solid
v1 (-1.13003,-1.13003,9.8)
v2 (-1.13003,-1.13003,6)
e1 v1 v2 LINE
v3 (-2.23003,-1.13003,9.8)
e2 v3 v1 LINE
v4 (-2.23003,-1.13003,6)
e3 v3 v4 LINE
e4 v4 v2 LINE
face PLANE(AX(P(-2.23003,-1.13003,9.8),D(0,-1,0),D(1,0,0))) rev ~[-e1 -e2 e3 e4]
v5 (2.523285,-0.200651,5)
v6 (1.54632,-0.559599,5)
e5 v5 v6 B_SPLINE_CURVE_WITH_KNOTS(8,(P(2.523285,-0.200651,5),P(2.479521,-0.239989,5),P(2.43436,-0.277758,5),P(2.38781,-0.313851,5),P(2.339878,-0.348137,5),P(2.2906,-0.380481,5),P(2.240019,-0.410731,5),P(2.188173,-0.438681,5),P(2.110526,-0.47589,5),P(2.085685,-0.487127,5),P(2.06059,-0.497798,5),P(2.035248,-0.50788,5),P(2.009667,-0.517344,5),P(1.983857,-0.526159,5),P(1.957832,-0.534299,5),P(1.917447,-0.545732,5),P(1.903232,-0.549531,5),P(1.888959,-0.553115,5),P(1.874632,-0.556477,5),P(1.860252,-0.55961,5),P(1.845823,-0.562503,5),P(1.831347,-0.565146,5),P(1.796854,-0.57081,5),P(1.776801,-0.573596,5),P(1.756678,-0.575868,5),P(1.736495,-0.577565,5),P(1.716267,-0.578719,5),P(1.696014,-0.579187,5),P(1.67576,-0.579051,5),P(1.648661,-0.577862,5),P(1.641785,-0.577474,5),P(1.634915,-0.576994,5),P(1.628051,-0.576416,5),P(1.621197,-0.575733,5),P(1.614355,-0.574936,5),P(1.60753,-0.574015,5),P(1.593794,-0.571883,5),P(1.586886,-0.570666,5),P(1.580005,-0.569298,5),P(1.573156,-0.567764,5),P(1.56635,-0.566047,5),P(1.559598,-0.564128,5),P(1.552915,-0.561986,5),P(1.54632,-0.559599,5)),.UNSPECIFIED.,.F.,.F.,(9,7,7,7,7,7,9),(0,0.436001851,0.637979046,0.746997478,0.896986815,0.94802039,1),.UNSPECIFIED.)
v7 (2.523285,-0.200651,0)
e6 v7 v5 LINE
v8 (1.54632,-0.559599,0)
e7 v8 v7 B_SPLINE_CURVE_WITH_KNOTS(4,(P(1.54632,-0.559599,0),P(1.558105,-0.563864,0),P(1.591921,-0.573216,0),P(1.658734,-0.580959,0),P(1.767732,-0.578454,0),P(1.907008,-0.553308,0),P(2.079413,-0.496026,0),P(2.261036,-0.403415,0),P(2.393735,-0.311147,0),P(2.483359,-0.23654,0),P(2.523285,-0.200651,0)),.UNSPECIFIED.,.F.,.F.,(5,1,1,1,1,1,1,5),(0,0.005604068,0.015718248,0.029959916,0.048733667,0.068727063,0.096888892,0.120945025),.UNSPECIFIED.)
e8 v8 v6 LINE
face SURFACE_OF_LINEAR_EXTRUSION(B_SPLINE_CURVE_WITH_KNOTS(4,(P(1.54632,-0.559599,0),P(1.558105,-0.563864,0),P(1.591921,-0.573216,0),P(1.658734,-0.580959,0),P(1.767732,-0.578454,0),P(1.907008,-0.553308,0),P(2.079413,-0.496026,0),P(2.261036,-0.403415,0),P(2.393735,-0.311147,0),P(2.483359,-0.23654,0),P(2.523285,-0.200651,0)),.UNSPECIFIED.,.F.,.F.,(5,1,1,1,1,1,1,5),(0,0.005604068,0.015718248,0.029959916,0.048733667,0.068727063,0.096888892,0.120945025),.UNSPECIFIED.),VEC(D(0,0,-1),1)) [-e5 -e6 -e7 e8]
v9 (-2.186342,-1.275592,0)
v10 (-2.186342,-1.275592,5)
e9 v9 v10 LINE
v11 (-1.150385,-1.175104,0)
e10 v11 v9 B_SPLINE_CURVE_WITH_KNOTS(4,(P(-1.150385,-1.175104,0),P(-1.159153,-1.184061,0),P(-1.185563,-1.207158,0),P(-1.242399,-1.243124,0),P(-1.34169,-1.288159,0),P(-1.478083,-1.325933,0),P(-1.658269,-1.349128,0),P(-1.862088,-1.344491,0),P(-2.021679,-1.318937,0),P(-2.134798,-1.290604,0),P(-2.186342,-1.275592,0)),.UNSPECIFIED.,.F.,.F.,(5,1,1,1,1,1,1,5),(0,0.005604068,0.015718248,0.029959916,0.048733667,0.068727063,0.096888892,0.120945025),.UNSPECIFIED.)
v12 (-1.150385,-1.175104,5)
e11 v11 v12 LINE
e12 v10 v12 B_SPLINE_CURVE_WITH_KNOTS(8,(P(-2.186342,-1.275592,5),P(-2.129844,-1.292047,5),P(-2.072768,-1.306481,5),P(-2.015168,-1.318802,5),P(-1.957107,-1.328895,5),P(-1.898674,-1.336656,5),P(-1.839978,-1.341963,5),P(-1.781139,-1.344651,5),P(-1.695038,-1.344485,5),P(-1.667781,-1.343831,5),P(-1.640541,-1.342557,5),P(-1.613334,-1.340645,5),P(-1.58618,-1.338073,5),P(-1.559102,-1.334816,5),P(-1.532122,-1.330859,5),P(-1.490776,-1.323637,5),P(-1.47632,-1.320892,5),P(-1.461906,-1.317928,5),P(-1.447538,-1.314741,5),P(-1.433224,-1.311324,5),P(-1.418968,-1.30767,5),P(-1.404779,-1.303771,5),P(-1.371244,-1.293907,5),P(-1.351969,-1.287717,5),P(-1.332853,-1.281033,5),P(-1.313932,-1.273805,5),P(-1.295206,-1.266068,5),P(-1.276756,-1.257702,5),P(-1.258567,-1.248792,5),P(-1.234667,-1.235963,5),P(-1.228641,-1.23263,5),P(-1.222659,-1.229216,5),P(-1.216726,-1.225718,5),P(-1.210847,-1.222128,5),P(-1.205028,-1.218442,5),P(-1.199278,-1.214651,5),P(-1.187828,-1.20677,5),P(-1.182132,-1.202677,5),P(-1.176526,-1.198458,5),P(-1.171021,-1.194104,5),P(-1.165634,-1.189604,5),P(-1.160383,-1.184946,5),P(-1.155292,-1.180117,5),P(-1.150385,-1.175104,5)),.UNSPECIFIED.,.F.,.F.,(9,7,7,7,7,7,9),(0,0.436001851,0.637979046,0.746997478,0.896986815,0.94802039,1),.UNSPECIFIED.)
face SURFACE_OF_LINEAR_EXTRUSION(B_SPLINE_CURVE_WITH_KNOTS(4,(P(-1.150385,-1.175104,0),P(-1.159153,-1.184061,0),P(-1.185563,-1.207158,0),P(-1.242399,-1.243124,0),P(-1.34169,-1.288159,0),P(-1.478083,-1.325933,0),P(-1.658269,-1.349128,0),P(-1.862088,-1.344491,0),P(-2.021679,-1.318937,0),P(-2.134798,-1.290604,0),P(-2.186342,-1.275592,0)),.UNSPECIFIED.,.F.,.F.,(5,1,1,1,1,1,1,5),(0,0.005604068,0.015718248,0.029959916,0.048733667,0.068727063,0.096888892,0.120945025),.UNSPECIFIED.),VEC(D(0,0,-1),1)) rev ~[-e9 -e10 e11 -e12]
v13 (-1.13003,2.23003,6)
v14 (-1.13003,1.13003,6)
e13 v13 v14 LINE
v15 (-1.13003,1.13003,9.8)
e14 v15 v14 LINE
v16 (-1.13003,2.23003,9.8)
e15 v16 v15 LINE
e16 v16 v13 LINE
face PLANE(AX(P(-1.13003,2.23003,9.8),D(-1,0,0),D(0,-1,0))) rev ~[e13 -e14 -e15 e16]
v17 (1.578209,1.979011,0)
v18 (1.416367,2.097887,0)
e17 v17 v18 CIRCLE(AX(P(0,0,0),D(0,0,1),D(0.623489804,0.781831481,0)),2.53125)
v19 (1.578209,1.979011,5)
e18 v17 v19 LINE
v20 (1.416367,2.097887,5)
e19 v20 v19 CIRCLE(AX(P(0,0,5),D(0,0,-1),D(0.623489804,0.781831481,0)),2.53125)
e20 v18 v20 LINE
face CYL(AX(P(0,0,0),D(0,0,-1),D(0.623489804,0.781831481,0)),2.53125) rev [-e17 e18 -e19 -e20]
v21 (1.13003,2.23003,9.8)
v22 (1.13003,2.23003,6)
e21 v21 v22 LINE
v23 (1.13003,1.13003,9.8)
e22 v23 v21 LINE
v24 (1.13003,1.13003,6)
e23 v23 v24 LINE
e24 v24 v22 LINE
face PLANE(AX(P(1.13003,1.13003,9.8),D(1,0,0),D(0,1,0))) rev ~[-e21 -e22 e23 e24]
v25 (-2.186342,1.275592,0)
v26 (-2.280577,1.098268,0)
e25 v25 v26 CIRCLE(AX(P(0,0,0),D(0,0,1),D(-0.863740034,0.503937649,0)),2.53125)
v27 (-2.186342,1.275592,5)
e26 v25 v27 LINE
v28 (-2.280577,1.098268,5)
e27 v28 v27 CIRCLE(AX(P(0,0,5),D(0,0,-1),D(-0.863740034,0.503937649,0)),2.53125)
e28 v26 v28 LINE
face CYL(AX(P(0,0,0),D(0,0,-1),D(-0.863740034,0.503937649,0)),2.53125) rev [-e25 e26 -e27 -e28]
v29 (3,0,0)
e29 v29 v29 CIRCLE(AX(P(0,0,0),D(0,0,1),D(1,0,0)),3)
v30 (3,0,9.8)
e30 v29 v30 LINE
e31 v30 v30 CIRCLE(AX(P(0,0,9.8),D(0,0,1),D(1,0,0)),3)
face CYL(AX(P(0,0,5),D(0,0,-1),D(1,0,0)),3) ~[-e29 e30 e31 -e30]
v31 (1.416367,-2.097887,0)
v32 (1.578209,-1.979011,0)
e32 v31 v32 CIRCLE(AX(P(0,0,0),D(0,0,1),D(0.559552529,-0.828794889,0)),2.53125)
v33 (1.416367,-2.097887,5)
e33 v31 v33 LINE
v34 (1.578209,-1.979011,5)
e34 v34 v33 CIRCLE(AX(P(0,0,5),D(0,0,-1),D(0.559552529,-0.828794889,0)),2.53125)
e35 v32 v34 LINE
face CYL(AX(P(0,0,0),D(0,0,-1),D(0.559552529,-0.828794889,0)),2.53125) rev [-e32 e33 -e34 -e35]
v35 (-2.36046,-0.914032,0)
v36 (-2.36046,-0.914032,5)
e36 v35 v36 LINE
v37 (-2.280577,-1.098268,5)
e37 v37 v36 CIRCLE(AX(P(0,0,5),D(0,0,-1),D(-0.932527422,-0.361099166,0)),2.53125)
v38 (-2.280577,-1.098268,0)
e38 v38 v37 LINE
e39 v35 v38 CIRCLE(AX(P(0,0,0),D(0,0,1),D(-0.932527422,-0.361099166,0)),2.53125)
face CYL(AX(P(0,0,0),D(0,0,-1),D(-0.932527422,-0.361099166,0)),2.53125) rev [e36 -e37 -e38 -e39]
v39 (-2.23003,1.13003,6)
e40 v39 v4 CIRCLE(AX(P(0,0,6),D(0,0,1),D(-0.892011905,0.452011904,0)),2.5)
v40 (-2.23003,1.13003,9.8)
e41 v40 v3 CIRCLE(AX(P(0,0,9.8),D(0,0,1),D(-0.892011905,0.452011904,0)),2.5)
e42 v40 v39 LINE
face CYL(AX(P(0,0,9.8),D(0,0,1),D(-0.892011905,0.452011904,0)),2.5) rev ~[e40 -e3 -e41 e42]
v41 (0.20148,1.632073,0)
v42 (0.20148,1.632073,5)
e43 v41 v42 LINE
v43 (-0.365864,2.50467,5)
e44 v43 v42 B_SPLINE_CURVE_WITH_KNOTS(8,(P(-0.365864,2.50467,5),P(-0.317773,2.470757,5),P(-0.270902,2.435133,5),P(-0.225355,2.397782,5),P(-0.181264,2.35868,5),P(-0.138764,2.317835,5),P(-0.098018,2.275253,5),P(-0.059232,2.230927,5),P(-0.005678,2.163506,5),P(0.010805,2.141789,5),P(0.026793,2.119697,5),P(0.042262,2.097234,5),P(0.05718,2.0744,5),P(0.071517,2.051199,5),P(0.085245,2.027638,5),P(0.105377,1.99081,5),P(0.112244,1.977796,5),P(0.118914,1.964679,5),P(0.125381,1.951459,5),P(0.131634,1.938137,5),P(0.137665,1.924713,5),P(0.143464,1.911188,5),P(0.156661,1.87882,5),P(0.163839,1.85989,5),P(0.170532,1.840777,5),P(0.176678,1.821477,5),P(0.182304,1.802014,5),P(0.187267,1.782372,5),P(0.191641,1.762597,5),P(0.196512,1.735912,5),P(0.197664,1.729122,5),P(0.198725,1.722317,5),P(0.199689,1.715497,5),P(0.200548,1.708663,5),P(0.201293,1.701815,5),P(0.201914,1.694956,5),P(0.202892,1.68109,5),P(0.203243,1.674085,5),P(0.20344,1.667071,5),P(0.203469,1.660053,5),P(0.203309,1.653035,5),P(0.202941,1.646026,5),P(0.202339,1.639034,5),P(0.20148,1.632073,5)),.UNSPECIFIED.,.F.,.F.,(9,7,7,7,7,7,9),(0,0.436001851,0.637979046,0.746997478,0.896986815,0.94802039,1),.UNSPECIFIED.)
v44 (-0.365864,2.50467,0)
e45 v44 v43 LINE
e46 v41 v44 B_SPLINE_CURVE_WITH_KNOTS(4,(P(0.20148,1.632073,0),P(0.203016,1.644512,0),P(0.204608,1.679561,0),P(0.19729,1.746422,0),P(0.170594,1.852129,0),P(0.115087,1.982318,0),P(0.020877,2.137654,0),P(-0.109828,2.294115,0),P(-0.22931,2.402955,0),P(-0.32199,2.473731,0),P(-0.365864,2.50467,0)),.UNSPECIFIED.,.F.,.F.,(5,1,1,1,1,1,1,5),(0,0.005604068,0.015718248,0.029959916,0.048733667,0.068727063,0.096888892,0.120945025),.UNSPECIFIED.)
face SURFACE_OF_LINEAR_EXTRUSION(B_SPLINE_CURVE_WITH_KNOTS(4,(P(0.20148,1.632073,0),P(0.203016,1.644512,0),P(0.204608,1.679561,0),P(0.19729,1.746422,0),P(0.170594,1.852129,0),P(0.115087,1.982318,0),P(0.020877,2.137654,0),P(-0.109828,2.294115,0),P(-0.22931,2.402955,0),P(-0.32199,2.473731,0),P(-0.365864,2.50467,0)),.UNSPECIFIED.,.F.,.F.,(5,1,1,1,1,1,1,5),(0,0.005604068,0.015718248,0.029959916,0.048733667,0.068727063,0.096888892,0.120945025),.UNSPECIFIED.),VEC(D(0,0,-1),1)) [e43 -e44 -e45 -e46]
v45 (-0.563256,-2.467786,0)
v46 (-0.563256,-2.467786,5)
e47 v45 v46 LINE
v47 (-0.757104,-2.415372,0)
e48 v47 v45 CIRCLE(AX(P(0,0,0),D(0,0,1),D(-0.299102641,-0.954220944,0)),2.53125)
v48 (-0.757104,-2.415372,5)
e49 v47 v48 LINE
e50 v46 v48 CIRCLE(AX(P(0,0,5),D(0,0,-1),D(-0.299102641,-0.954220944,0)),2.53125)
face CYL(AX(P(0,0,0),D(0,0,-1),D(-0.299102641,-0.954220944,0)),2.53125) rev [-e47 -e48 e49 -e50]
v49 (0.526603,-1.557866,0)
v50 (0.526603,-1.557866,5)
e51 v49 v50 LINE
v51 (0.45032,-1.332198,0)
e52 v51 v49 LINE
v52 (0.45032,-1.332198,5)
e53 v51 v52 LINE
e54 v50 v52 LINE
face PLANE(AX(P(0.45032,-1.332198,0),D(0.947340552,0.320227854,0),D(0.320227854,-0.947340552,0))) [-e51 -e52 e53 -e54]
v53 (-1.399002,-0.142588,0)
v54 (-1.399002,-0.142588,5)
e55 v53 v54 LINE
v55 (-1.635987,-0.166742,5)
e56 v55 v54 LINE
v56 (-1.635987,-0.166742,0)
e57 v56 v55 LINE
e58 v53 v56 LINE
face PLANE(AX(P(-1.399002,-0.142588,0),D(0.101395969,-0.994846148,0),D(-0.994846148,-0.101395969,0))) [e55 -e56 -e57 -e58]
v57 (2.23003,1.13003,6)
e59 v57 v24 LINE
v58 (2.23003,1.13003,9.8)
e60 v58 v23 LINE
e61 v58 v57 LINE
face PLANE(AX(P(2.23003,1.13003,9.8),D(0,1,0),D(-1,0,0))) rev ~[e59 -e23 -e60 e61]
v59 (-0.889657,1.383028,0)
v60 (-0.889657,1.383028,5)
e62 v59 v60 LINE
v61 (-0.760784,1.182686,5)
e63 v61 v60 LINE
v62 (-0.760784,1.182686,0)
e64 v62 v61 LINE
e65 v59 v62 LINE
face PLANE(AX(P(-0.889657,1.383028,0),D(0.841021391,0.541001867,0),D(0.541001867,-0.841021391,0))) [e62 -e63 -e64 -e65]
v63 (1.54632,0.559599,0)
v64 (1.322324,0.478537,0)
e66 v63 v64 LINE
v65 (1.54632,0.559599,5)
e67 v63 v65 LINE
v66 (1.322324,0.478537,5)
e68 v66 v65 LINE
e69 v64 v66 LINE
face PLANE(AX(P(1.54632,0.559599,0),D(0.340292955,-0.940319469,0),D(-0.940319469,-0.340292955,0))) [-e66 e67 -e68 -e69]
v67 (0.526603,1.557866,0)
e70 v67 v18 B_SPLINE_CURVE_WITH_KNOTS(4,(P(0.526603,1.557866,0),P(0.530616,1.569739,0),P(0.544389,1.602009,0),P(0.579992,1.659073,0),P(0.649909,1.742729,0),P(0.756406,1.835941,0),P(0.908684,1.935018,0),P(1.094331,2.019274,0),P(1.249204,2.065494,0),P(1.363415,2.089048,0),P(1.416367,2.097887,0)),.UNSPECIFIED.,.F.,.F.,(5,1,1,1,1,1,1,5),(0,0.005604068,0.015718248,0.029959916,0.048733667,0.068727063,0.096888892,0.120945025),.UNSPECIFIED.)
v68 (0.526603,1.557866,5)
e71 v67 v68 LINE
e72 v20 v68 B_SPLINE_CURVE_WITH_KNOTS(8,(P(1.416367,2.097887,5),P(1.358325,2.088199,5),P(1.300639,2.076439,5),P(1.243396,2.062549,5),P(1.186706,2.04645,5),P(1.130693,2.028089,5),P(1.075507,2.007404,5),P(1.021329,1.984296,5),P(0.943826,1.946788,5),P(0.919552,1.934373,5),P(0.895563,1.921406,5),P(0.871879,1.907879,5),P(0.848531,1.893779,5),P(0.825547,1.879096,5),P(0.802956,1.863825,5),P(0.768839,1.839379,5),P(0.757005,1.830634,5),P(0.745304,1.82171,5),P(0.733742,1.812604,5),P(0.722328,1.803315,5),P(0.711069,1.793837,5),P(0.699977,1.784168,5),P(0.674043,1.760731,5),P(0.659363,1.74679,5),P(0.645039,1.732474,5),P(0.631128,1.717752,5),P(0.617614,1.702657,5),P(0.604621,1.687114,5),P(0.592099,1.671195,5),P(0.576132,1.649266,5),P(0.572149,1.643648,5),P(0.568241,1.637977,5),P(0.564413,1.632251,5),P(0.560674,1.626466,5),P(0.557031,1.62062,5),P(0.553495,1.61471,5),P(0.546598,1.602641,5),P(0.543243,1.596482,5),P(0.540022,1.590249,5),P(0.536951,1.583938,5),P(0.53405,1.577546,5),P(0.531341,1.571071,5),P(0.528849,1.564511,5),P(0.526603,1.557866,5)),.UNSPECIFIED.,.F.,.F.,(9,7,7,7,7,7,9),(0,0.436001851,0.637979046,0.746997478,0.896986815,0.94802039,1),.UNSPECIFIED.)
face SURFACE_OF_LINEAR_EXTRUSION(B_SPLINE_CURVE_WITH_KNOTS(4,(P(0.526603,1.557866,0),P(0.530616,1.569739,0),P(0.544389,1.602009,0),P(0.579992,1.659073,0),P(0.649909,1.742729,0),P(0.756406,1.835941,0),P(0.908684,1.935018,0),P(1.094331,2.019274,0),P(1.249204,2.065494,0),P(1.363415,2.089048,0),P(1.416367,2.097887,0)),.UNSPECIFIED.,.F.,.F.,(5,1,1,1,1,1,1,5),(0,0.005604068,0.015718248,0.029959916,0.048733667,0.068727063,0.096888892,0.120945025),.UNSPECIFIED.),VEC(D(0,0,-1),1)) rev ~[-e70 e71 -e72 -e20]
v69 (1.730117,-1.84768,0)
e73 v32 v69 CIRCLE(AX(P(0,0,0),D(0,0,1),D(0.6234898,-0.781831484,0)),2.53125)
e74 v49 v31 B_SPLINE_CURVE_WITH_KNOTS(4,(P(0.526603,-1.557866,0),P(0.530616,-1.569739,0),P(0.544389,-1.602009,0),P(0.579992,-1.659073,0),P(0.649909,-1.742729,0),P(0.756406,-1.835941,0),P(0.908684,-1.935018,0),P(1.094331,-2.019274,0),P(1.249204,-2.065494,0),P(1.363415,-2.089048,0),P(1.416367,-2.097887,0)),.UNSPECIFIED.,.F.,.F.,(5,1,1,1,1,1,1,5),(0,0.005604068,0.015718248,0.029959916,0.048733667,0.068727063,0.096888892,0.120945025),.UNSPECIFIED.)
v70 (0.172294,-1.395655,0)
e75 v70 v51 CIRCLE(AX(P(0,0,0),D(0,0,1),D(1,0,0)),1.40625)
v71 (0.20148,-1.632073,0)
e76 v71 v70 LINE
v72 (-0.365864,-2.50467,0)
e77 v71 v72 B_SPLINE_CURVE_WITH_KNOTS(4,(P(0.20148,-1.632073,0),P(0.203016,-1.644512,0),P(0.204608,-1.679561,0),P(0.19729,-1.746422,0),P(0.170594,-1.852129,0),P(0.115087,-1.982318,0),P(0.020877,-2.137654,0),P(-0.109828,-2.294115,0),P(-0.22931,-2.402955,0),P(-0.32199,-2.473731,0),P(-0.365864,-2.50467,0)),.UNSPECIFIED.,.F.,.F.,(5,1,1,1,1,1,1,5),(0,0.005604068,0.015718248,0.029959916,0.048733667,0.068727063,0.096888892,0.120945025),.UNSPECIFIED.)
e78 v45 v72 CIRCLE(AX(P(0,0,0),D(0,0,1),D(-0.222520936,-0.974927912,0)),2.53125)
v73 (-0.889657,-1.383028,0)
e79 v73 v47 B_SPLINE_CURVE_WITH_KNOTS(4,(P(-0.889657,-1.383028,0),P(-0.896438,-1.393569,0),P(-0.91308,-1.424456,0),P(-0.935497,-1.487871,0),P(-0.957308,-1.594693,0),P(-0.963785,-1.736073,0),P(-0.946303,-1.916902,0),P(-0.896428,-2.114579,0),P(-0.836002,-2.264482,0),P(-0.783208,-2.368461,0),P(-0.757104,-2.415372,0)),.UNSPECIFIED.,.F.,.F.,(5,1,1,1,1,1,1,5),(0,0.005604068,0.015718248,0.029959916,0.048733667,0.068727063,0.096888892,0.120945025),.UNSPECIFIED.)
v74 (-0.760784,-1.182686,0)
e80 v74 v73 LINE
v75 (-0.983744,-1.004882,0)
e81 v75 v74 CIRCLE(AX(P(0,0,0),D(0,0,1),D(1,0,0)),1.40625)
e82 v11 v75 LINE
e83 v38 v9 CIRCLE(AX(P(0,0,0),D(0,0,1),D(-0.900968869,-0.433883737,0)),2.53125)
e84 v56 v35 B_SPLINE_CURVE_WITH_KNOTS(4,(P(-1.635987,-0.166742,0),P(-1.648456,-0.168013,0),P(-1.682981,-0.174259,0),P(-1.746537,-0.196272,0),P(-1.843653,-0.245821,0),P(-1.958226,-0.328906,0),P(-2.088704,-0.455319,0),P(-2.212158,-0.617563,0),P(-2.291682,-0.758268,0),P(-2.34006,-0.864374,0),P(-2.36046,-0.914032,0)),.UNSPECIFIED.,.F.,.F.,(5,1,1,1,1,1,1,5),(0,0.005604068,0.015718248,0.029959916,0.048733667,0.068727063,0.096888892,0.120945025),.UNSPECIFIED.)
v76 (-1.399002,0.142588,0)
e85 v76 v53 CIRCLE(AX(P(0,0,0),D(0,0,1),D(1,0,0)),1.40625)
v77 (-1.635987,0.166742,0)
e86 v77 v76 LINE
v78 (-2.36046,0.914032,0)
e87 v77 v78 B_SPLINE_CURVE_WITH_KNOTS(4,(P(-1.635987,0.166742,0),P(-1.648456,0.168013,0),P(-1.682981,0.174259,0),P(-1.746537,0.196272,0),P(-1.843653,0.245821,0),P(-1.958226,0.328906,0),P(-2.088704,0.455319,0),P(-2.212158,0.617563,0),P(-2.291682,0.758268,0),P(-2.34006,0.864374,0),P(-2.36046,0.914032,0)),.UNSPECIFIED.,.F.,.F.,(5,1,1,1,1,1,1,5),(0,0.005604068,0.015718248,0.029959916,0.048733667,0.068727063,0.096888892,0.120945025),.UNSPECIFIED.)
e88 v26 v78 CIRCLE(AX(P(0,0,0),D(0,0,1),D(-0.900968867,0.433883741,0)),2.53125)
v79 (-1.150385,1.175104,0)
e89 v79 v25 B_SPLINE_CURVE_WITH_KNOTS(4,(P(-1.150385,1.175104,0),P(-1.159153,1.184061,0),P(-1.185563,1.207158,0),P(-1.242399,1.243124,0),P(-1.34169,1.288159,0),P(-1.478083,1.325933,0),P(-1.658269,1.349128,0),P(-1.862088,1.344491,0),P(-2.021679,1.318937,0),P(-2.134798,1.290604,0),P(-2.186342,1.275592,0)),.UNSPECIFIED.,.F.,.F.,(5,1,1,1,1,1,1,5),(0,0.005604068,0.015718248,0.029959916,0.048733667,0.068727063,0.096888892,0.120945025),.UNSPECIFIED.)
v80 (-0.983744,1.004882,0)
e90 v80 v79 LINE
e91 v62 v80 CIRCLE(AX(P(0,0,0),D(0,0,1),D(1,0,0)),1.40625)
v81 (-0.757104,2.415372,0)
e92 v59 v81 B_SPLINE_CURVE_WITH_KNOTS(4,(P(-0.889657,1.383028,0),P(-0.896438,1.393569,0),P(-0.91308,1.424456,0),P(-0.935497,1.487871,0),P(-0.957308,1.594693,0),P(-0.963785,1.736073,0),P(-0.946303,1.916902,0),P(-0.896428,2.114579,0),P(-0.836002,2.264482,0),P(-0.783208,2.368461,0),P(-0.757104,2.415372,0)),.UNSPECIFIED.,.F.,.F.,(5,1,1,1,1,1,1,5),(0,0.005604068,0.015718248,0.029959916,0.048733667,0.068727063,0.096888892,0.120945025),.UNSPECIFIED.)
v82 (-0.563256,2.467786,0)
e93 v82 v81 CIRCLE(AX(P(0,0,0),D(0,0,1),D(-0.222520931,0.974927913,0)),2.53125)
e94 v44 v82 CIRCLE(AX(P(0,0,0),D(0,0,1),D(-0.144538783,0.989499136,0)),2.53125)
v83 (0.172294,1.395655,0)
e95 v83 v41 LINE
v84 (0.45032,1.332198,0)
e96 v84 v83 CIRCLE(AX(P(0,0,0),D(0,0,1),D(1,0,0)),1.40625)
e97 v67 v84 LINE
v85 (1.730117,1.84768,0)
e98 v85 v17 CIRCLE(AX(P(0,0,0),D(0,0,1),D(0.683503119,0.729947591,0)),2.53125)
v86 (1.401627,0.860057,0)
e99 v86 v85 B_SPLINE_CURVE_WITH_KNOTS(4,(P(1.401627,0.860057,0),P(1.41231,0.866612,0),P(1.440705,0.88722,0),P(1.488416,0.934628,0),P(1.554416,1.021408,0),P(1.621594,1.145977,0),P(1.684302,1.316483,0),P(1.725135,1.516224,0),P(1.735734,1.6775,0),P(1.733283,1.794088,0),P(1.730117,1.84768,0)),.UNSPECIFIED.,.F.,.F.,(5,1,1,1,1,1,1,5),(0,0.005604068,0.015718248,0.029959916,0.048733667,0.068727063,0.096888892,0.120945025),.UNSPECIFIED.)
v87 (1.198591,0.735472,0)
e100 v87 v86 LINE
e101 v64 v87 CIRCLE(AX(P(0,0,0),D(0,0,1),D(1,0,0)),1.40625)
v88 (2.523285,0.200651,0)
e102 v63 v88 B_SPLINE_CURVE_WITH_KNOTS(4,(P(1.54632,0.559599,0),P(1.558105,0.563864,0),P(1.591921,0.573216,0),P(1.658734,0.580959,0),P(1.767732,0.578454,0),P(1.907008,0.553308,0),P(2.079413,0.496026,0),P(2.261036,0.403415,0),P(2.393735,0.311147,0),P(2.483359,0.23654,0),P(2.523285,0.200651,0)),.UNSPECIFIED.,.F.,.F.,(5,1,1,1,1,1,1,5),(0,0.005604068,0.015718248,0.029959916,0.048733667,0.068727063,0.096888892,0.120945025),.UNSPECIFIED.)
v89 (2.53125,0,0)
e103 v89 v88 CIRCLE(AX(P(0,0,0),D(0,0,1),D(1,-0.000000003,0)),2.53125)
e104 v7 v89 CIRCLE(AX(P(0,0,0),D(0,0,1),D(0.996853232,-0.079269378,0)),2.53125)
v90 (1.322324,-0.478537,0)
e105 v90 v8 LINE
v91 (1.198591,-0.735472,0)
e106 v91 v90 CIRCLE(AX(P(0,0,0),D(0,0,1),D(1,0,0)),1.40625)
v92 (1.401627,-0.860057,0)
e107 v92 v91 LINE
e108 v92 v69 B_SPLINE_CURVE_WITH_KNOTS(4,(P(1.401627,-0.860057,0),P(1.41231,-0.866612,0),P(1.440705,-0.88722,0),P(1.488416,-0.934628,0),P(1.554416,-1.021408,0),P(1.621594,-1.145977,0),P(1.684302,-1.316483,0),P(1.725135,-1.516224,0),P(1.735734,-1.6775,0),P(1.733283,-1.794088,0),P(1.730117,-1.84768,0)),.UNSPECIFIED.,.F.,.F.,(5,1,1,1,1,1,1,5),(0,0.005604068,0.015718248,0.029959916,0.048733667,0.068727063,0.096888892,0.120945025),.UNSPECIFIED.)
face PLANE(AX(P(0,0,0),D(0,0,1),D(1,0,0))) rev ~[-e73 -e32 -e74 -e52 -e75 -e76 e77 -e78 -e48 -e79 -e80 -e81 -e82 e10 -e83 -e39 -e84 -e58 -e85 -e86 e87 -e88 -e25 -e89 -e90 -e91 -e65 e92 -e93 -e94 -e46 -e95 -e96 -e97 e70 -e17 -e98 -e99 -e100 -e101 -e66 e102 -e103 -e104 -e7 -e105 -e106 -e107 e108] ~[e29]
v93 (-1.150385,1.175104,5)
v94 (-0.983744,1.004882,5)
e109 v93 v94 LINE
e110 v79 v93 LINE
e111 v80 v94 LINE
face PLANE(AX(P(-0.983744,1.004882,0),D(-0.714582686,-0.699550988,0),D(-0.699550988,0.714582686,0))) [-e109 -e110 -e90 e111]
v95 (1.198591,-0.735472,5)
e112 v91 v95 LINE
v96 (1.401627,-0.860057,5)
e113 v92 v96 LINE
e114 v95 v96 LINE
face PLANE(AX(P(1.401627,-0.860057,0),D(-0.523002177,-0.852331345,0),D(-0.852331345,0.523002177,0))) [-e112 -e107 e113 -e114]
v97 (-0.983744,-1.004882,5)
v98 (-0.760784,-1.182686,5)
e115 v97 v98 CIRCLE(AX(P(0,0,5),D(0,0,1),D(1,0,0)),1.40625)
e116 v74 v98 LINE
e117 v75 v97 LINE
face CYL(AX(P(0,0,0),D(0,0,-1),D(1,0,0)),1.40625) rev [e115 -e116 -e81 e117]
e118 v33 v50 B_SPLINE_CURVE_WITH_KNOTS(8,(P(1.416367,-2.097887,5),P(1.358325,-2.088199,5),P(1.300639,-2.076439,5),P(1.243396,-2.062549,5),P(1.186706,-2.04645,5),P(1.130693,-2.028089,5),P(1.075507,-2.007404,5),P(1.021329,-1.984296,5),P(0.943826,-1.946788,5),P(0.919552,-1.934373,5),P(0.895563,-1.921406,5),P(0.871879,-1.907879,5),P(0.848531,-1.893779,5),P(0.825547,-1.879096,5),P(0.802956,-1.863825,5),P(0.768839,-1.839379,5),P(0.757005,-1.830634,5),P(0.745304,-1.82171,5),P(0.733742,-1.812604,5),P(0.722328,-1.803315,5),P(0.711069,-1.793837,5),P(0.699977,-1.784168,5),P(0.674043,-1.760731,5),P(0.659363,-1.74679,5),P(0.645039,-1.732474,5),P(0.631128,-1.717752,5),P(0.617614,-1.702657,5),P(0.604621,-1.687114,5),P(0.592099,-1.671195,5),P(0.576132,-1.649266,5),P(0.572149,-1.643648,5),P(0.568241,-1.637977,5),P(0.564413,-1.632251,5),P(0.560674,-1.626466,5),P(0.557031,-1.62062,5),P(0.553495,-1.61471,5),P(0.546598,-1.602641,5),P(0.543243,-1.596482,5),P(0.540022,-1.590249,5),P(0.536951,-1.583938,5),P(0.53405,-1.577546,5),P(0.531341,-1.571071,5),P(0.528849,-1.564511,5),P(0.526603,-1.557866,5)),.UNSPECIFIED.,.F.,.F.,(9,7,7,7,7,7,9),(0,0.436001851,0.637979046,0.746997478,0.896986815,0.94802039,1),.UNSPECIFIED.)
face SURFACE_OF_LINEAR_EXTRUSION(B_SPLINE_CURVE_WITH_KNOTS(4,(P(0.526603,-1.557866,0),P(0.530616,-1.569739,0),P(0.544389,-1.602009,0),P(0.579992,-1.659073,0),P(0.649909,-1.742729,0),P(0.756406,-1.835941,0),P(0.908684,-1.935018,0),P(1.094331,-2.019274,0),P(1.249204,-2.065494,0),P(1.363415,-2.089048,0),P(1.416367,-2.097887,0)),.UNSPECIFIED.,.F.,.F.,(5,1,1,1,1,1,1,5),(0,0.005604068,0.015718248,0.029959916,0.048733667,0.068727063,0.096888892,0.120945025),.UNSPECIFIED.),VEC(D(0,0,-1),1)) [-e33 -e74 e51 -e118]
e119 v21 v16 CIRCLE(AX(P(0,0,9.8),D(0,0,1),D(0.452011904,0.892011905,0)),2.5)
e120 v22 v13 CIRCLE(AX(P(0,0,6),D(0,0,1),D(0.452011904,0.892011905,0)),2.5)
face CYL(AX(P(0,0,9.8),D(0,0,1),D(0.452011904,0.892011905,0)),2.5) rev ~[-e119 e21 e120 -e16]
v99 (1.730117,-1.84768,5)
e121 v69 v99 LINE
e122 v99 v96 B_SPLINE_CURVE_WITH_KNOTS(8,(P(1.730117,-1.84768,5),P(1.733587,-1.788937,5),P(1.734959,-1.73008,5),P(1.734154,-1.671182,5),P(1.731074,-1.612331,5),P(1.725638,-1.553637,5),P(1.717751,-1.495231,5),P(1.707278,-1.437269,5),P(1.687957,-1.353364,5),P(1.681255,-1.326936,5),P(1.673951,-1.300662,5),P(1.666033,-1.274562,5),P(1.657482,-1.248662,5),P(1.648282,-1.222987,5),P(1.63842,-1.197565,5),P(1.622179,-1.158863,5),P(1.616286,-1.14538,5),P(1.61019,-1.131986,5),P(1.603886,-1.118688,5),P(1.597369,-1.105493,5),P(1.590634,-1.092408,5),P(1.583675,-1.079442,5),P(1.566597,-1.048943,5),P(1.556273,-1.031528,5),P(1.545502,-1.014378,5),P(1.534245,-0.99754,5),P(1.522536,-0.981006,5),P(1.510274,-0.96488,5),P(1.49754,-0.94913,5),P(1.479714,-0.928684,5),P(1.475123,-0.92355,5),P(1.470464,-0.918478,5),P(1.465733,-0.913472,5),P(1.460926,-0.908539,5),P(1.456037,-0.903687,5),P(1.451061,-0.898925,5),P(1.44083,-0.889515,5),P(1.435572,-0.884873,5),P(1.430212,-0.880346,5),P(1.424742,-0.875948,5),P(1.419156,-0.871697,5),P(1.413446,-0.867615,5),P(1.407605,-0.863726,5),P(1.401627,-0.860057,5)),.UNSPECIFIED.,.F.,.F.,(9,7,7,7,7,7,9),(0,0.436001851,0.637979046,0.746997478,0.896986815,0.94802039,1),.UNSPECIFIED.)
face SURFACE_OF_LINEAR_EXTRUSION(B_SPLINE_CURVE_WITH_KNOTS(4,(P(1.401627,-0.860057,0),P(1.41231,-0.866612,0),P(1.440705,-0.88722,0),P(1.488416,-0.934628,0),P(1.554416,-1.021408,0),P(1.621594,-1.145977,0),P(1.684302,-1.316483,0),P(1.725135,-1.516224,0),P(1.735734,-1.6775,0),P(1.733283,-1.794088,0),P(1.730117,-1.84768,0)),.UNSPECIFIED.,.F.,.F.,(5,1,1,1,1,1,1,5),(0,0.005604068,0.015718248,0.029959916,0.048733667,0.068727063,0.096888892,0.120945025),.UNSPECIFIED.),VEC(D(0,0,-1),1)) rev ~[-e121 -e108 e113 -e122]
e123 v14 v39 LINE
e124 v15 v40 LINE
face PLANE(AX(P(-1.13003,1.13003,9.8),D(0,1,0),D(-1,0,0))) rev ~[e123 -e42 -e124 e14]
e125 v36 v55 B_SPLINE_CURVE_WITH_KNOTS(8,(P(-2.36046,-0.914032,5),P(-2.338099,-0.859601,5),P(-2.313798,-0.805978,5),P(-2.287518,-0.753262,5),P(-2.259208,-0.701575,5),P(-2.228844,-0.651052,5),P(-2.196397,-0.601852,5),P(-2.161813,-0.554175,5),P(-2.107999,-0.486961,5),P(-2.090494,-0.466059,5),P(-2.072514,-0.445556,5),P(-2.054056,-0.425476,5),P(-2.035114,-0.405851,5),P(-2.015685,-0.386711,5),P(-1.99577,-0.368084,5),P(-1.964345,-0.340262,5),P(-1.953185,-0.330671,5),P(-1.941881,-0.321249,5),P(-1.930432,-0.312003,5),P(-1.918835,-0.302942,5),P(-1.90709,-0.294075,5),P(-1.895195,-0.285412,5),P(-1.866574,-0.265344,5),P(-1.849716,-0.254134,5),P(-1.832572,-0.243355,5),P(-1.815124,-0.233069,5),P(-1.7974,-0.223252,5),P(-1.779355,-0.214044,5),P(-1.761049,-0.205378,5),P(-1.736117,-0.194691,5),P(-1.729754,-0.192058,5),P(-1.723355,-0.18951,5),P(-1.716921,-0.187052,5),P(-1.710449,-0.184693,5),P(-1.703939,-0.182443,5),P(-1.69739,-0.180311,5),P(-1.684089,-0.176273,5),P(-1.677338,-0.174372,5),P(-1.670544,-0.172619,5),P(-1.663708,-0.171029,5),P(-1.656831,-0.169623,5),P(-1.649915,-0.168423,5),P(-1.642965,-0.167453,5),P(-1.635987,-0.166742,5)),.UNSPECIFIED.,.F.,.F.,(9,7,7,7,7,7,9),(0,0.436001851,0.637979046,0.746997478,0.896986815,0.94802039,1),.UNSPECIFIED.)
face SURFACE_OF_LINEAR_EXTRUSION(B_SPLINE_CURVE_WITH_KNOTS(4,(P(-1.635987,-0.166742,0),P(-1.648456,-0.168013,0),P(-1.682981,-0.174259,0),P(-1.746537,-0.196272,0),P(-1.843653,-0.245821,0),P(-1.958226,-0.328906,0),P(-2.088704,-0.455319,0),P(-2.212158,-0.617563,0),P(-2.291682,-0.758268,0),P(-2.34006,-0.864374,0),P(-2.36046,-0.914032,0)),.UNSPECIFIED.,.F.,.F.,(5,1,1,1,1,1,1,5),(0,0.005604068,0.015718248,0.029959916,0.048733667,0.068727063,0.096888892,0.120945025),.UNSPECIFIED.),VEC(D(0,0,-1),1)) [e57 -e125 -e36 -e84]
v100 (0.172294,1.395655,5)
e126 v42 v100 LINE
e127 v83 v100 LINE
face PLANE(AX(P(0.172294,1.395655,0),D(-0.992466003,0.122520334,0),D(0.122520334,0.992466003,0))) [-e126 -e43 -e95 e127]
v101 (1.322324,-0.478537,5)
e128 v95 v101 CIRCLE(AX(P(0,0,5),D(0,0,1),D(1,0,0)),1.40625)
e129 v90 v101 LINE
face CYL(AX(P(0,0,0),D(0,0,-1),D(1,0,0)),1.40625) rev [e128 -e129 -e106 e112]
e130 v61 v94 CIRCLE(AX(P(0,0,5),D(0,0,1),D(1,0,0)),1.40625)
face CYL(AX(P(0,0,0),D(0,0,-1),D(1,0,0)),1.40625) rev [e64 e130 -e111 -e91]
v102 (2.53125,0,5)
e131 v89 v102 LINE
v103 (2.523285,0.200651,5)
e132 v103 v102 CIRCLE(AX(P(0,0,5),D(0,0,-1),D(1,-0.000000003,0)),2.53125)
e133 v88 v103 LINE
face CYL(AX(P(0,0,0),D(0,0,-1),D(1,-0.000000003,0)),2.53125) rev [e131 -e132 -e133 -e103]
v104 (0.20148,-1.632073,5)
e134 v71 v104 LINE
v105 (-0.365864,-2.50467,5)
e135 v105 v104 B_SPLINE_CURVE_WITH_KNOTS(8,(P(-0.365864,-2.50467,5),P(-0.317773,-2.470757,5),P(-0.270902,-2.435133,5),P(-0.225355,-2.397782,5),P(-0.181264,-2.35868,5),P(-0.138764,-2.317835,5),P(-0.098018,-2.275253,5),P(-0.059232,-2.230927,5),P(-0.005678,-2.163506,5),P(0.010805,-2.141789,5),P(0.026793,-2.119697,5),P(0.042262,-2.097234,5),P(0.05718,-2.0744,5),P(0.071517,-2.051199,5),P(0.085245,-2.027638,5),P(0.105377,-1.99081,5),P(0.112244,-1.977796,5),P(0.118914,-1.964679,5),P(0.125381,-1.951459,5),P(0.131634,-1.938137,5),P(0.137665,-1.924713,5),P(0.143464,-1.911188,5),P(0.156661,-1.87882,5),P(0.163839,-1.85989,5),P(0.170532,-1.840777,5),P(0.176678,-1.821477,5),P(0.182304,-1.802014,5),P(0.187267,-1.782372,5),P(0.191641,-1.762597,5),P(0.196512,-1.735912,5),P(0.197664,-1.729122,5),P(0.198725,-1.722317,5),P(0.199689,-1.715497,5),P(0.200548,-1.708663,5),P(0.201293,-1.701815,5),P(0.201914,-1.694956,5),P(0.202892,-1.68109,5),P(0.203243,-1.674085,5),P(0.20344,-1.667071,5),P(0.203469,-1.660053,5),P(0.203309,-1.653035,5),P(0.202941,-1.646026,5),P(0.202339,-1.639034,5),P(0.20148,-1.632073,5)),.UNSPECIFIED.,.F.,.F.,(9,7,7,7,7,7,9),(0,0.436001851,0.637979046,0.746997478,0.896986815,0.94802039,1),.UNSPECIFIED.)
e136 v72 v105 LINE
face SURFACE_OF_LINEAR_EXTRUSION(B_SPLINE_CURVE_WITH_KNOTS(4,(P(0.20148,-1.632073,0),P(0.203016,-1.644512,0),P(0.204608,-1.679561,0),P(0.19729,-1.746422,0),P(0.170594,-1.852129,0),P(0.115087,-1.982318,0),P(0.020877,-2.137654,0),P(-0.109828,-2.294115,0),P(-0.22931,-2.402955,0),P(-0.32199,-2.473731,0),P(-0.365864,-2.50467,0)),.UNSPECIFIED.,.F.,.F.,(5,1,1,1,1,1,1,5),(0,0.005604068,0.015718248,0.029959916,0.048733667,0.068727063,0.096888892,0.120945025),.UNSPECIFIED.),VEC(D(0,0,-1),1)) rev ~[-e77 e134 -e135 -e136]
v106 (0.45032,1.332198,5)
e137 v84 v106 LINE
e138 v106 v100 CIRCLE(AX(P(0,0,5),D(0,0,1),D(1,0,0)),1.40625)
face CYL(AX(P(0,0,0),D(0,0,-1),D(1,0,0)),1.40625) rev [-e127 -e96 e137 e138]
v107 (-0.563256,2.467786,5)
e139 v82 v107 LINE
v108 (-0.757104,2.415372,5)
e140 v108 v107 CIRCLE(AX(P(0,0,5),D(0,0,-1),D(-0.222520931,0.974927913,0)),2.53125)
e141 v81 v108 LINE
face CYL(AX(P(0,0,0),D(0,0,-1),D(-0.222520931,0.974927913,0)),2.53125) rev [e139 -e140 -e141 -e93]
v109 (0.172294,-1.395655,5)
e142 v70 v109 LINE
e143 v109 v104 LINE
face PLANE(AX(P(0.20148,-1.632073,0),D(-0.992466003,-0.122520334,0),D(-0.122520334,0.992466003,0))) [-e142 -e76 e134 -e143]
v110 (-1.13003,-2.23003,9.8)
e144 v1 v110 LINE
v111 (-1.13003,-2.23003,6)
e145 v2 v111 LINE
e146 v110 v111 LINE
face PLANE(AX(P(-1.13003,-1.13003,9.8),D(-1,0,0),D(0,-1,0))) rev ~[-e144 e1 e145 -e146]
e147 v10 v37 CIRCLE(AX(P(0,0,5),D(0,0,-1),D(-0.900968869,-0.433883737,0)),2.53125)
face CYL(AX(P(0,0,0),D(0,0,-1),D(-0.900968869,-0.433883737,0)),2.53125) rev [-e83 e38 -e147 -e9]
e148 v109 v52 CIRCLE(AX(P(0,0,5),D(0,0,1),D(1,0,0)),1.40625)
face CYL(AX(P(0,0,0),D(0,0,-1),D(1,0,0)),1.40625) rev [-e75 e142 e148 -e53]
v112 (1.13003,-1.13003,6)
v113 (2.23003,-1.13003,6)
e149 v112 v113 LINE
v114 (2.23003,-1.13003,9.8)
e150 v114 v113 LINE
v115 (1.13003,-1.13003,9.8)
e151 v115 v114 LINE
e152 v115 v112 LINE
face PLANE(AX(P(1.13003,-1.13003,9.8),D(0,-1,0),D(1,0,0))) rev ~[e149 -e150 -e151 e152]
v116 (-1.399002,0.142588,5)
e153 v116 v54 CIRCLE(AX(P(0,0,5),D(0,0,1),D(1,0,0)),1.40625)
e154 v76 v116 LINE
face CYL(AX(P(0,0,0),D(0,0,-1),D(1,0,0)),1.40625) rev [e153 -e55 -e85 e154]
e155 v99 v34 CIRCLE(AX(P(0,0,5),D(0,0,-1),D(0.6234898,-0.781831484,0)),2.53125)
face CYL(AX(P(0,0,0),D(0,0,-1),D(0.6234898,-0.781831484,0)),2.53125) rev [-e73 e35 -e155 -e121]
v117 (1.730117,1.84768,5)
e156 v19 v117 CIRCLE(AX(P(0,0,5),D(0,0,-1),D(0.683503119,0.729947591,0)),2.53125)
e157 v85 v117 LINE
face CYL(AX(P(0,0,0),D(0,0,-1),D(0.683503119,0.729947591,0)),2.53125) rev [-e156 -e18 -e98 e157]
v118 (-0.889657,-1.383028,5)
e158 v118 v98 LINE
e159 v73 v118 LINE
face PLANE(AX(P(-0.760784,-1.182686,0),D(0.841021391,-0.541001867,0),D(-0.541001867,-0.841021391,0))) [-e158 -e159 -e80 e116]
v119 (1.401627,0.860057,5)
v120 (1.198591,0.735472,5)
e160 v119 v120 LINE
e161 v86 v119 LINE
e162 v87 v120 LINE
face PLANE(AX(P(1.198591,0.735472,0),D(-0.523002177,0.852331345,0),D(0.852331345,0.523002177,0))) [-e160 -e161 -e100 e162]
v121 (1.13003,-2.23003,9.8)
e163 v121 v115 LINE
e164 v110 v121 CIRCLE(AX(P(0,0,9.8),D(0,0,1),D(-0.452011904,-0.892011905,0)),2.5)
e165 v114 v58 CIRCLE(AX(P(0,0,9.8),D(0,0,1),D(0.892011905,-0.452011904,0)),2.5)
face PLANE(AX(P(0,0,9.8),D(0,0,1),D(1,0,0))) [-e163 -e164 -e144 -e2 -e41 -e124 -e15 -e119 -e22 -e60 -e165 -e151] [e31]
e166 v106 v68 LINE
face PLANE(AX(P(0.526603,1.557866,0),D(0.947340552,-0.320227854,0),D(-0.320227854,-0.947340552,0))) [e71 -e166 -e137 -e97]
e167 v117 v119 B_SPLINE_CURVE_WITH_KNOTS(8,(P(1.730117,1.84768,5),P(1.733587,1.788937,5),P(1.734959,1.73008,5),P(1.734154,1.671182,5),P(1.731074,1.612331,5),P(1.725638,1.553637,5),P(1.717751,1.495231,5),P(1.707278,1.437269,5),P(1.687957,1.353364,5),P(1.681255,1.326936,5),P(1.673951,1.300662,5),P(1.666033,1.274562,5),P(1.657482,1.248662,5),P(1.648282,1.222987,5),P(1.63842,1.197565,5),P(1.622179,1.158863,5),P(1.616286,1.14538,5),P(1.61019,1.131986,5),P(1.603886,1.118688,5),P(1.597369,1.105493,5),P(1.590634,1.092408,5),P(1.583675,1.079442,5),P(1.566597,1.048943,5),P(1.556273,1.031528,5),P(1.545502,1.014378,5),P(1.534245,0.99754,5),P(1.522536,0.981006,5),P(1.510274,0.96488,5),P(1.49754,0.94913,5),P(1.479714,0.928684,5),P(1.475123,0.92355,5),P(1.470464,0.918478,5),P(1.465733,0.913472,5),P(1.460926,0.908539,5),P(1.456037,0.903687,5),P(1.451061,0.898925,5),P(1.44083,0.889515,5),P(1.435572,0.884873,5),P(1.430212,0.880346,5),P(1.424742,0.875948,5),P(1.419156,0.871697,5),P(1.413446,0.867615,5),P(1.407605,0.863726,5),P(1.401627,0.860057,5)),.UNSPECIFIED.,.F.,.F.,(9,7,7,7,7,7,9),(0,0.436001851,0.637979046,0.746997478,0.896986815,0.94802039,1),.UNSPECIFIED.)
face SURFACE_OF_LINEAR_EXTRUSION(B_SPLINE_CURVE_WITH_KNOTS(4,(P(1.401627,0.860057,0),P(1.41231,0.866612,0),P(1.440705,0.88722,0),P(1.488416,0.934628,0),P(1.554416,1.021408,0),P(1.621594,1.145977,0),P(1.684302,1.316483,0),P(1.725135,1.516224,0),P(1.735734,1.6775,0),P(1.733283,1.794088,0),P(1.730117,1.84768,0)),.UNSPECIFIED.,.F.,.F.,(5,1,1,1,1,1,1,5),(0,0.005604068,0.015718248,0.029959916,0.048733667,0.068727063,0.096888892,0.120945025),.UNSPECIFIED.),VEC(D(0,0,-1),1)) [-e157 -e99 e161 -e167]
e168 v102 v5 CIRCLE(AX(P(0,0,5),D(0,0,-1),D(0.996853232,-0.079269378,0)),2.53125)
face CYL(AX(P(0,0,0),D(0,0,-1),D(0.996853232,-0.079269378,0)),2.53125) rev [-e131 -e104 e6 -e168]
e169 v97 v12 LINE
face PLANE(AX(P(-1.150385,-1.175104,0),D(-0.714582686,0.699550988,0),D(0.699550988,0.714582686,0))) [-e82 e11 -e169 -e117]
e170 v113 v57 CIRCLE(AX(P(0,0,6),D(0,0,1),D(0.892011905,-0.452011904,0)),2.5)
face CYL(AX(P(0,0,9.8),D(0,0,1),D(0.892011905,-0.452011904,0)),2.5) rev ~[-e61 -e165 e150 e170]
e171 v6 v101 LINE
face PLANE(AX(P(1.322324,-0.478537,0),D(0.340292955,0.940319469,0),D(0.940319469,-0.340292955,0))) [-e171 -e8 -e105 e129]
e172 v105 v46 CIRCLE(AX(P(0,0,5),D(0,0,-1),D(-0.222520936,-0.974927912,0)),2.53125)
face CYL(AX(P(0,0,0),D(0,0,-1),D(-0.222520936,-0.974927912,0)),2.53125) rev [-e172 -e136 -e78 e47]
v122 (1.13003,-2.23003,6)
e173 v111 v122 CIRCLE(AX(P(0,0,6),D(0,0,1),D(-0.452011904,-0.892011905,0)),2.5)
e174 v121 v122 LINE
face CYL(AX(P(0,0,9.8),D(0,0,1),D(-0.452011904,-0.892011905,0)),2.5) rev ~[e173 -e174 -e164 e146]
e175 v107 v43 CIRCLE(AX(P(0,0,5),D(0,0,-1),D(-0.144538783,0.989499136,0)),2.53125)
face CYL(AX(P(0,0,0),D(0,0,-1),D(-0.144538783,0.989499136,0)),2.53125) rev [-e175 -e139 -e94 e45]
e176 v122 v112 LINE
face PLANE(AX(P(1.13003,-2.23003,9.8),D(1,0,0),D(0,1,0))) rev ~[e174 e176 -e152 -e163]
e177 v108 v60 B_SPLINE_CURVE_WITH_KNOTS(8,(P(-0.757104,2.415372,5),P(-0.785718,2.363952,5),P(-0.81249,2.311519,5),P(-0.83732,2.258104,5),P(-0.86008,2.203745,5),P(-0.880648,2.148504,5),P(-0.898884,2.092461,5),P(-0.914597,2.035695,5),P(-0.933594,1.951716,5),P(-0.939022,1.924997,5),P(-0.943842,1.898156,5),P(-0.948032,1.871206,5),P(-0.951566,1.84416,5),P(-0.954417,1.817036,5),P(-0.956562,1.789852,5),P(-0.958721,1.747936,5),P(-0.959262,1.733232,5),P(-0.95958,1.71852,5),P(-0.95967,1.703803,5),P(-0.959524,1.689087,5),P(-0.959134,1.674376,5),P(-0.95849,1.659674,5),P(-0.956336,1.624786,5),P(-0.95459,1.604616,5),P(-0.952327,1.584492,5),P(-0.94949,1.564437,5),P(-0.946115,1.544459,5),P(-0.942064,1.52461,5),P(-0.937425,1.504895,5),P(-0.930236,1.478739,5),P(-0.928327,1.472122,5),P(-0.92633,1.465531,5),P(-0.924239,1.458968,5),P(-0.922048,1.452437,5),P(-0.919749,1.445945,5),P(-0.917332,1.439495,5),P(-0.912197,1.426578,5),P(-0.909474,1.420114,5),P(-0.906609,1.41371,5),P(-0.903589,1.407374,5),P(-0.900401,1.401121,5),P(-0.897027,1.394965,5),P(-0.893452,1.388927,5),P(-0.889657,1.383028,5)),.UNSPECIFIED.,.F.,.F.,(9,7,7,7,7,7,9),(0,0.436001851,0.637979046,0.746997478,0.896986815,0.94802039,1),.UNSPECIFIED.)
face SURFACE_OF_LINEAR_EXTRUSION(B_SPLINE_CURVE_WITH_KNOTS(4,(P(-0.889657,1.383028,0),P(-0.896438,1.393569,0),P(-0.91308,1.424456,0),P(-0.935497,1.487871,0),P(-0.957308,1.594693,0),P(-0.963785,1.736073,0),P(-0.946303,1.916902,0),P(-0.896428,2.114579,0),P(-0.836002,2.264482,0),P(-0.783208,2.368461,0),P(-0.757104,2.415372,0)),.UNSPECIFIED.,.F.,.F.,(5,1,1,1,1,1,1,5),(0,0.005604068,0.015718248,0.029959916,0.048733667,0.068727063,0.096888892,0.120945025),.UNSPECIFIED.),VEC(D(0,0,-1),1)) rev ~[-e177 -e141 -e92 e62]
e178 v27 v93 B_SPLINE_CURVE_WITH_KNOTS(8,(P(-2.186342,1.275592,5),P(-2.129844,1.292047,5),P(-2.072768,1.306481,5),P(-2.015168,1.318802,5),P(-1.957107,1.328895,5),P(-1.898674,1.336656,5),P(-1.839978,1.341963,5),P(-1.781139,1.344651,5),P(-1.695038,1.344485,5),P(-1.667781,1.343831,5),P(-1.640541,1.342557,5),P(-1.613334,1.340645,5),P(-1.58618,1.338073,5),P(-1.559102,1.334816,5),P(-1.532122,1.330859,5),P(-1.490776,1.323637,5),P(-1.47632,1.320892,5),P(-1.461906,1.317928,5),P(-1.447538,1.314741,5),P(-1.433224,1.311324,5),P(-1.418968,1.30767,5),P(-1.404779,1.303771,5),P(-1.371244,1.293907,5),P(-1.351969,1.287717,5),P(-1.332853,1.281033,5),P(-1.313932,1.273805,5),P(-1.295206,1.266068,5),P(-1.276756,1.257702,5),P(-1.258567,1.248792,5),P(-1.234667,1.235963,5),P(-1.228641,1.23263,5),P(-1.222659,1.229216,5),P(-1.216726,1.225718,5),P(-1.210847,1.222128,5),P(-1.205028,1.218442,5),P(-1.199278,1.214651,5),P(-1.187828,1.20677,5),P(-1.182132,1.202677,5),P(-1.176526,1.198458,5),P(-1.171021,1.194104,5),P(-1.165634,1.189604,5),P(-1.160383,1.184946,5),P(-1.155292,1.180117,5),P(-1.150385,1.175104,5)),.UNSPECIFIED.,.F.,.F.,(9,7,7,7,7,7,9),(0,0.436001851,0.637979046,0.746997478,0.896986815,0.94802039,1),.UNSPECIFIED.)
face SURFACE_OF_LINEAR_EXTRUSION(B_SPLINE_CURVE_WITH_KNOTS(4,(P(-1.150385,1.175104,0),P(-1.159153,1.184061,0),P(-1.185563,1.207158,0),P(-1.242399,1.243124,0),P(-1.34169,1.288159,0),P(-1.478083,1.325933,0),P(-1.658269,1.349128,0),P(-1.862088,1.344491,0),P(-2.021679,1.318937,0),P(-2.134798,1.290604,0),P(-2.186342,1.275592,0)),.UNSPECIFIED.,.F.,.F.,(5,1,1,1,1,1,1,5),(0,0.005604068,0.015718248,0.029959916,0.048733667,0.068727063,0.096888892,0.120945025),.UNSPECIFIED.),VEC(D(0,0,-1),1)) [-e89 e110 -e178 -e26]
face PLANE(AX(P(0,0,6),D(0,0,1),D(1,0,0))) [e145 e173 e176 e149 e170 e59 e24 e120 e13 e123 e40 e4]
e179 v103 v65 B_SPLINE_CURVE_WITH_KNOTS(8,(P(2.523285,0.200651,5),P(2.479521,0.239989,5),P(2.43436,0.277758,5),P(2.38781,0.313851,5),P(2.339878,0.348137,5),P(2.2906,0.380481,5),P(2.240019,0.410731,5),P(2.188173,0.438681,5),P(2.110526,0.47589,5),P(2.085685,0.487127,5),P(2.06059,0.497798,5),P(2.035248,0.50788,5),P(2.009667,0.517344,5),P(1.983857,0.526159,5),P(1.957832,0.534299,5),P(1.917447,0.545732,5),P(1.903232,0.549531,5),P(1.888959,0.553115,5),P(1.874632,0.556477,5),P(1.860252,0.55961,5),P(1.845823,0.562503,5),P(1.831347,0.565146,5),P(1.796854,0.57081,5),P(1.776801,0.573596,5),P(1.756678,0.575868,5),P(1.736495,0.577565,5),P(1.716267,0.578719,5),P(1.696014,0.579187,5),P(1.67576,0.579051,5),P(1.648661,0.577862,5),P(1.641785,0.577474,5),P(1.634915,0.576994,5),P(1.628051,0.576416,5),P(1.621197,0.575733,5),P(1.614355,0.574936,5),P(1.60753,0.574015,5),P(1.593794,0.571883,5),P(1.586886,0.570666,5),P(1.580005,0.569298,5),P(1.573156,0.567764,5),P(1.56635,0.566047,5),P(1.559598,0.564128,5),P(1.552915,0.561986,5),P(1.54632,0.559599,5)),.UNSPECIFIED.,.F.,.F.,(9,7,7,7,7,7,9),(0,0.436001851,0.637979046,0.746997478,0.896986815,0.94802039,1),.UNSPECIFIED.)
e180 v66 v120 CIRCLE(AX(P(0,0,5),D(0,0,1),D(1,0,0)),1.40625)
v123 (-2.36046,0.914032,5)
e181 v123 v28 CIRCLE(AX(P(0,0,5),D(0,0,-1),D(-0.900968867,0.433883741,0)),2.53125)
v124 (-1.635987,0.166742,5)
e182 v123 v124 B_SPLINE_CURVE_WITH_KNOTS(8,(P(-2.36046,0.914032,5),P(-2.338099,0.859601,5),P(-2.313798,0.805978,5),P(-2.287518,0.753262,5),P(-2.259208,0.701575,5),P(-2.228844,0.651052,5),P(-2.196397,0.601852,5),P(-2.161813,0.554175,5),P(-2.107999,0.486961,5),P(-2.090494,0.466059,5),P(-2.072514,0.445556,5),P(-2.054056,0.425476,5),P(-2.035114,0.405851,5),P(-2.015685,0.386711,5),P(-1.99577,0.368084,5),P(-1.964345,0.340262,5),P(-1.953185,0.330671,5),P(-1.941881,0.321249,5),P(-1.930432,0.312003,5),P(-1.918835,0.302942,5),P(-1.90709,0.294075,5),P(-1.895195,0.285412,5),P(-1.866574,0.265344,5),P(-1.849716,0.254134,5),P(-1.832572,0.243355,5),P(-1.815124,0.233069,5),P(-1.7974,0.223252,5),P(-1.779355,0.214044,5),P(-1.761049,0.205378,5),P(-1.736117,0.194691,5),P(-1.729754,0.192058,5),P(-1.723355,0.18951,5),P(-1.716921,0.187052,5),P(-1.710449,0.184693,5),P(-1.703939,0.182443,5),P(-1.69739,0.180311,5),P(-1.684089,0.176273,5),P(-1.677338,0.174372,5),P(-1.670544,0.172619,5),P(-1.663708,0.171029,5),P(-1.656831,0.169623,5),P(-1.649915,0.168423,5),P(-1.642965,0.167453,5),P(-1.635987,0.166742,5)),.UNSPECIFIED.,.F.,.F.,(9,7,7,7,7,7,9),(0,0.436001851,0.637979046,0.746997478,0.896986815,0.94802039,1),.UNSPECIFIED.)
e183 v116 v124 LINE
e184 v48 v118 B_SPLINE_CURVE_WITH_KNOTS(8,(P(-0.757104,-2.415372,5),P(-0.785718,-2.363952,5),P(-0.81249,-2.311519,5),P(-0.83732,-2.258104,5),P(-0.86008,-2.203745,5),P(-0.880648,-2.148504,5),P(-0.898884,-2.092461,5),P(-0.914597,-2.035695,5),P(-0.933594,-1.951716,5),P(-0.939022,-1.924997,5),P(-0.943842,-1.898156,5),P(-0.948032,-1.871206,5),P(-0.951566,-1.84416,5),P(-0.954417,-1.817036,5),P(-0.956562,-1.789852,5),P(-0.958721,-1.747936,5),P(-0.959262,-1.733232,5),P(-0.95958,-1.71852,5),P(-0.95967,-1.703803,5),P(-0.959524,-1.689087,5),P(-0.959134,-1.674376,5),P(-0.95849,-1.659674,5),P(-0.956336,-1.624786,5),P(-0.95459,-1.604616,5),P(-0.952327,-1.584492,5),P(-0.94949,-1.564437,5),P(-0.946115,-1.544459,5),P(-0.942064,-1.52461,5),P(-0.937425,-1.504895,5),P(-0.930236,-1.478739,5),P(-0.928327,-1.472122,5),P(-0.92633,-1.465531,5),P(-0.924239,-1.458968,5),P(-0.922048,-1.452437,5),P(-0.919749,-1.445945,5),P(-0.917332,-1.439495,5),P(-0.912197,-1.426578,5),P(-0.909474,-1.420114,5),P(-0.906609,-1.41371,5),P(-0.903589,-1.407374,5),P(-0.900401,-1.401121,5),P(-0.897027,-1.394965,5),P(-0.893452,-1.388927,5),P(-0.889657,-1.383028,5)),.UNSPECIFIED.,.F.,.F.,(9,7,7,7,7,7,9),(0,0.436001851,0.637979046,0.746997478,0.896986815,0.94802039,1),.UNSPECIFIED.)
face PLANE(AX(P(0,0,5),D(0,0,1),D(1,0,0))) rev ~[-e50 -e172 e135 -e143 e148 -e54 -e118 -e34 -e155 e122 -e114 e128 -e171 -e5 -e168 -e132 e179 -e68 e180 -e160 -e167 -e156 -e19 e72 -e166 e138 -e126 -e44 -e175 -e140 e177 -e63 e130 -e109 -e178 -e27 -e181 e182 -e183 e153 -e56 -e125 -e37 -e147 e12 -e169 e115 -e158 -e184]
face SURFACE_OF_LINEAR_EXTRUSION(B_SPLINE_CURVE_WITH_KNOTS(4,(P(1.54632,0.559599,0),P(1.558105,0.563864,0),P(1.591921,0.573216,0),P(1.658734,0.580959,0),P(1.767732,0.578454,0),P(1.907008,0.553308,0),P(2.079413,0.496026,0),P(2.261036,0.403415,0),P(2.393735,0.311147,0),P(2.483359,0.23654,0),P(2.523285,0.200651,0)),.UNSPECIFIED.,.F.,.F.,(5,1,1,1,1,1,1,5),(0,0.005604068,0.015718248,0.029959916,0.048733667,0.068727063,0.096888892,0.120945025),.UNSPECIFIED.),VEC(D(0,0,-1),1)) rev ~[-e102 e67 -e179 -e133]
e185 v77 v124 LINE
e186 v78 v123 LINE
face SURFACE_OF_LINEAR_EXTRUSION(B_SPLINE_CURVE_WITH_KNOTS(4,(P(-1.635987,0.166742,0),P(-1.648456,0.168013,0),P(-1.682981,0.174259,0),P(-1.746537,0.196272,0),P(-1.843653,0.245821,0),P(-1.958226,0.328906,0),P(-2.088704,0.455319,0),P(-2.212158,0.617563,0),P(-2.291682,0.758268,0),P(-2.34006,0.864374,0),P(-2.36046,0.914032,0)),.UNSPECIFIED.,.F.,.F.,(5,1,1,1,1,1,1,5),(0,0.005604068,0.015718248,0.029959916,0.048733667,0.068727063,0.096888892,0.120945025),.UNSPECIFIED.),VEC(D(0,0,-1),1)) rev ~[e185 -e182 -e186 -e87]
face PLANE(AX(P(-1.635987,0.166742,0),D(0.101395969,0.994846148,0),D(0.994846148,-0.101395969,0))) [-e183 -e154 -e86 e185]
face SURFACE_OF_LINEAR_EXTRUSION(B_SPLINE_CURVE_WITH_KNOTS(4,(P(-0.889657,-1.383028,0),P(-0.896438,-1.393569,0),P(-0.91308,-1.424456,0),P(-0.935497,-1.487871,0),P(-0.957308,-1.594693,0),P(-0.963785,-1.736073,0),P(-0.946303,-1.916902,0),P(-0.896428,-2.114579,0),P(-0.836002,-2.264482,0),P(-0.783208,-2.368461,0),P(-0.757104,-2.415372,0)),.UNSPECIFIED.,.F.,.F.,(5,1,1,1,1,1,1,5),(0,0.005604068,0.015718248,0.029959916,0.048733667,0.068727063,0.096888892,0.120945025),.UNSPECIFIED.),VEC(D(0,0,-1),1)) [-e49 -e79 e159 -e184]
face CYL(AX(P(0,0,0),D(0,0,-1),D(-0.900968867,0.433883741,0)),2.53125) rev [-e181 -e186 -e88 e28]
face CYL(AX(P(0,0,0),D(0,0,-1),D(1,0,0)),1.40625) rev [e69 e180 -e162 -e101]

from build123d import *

# Parameters (mm, degrees)
SKETCH_1_R               = 3
SKETCH_1_R_2             = 1.40625
EXTRUDE_1_DEPTH          = 5
CUT_EXTRUDE_2_DEPTH      = 7.557438524
PATTERN_CIRCULAR_1_COUNT = 7
SKETCH_2_R               = 3
EXTRUDE_2_DEPTH          = 4.8
CUT_EXTRUDE_START        = 4.8
CUT_EXTRUDE_3_DEPTH      = 3.8


with BuildPart() as part:
    # 草图1 → 凸台-拉伸1 (new body)
    with BuildSketch(Plane.XY):
        Circle(SKETCH_1_R)
        Circle(SKETCH_1_R_2, mode=Mode.SUBTRACT)
    extrude(amount=EXTRUDE_1_DEPTH)

    # 草图1<3> → 切除-拉伸2 (cut, through all)
    with BuildSketch(Plane.XY):
        with BuildLine():
            Line((1.546319716, 0.559598866), (1.322324253, 0.478536971))
            ThreePointArc((1.322324253, 0.478536971), (1.385109661, 0.242920339), (1.40625, 0))
            ThreePointArc((1.40625, 0), (1.385109661, -0.242920339), (1.322324253, -0.478536971))
            Line((1.322324253, -0.478536971), (1.546319716, -0.559598866))
            add(Edge.make_bspline(
                [(1.546319716, -0.559598866), (1.558105463, -0.563864019), (1.591921474, -0.573215837), (1.658734166, -0.580959295), (1.767731952, -0.57845396), (1.907008009, -0.553308364), (2.079413065, -0.496026363), (2.261035814, -0.40341458), (2.393734523, -0.311147352), (2.48335867, -0.236539754), (2.523284743, -0.200650618)],
                knots=[0, 0, 0, 0, 0, 0.005604068, 0.015718248, 0.029959916, 0.048733667, 0.068727063, 0.096888892, 0.120945025, 0.120945025, 0.120945025, 0.120945025, 0.120945025], degree=4))
            ThreePointArc((2.523284743, -0.200650618), (2.529257902, -0.100404327), (2.53125, 0))
            ThreePointArc((2.53125, 0), (2.529257902, 0.100404327), (2.523284743, 0.200650618))
            add(Edge.make_bspline(
                [(1.546319716, 0.559598866), (1.558105463, 0.563864019), (1.591921474, 0.573215837), (1.658734166, 0.580959295), (1.767731952, 0.57845396), (1.907008009, 0.553308364), (2.079413065, 0.496026363), (2.261035814, 0.40341458), (2.393734523, 0.311147352), (2.48335867, 0.236539754), (2.523284743, 0.200650618)],
                knots=[0, 0, 0, 0, 0, 0.005604068, 0.015718248, 0.029959916, 0.048733667, 0.068727063, 0.096888892, 0.120945025, 0.120945025, 0.120945025, 0.120945025, 0.120945025], degree=4))
        make_face()
    cut_extrude_2 = extrude(amount=CUT_EXTRUDE_2_DEPTH, mode=Mode.SUBTRACT)

    # 阵列(圆周)1: 切除-拉伸2 ×7 about axis
    pattern_circular_1_axis = Axis((0, 0, 5), (0, 0, 1))
    for i in range(1, PATTERN_CIRCULAR_1_COUNT):
        add(cut_extrude_2.rotate(pattern_circular_1_axis, i * 360 / PATTERN_CIRCULAR_1_COUNT), mode=Mode.SUBTRACT)

    # 草图2 → 凸台-拉伸2 (add)
    with BuildSketch(Plane.XY.offset(5)):
        Circle(SKETCH_2_R)
    extrude(amount=EXTRUDE_2_DEPTH)

    # 草图2<4> → 切除-拉伸3 (cut)
    with BuildSketch(Plane.XY.offset(5).offset(CUT_EXTRUDE_START)):
        with BuildLine():
            ThreePointArc((1.130029762, 2.230029762), (0, 2.5), (-1.130029762, 2.230029762))
            Line((-1.130029762, 2.230029762), (-1.130029762, 1.130029762))
            Line((-1.130029762, 1.130029762), (-2.230029762, 1.130029762))
            ThreePointArc((-2.230029762, 1.130029762), (-2.5, 0), (-2.230029762, -1.130029762))
            Line((-2.230029762, -1.130029762), (-1.130029762, -1.130029762))
            Line((-1.130029762, -1.130029762), (-1.130029762, -2.230029762))
            ThreePointArc((-1.130029762, -2.230029762), (0, -2.5), (1.130029762, -2.230029762))
            Line((1.130029762, -2.230029762), (1.130029762, -1.130029762))
            Line((1.130029762, -1.130029762), (2.230029762, -1.130029762))
            ThreePointArc((2.230029762, -1.130029762), (2.5, 0), (2.230029762, 1.130029762))
            Line((2.230029762, 1.130029762), (1.130029762, 1.130029762))
            Line((1.130029762, 1.130029762), (1.130029762, 2.230029762))
        make_face()
    extrude(amount=-CUT_EXTRUDE_3_DEPTH, mode=Mode.SUBTRACT)


solid = part.part
